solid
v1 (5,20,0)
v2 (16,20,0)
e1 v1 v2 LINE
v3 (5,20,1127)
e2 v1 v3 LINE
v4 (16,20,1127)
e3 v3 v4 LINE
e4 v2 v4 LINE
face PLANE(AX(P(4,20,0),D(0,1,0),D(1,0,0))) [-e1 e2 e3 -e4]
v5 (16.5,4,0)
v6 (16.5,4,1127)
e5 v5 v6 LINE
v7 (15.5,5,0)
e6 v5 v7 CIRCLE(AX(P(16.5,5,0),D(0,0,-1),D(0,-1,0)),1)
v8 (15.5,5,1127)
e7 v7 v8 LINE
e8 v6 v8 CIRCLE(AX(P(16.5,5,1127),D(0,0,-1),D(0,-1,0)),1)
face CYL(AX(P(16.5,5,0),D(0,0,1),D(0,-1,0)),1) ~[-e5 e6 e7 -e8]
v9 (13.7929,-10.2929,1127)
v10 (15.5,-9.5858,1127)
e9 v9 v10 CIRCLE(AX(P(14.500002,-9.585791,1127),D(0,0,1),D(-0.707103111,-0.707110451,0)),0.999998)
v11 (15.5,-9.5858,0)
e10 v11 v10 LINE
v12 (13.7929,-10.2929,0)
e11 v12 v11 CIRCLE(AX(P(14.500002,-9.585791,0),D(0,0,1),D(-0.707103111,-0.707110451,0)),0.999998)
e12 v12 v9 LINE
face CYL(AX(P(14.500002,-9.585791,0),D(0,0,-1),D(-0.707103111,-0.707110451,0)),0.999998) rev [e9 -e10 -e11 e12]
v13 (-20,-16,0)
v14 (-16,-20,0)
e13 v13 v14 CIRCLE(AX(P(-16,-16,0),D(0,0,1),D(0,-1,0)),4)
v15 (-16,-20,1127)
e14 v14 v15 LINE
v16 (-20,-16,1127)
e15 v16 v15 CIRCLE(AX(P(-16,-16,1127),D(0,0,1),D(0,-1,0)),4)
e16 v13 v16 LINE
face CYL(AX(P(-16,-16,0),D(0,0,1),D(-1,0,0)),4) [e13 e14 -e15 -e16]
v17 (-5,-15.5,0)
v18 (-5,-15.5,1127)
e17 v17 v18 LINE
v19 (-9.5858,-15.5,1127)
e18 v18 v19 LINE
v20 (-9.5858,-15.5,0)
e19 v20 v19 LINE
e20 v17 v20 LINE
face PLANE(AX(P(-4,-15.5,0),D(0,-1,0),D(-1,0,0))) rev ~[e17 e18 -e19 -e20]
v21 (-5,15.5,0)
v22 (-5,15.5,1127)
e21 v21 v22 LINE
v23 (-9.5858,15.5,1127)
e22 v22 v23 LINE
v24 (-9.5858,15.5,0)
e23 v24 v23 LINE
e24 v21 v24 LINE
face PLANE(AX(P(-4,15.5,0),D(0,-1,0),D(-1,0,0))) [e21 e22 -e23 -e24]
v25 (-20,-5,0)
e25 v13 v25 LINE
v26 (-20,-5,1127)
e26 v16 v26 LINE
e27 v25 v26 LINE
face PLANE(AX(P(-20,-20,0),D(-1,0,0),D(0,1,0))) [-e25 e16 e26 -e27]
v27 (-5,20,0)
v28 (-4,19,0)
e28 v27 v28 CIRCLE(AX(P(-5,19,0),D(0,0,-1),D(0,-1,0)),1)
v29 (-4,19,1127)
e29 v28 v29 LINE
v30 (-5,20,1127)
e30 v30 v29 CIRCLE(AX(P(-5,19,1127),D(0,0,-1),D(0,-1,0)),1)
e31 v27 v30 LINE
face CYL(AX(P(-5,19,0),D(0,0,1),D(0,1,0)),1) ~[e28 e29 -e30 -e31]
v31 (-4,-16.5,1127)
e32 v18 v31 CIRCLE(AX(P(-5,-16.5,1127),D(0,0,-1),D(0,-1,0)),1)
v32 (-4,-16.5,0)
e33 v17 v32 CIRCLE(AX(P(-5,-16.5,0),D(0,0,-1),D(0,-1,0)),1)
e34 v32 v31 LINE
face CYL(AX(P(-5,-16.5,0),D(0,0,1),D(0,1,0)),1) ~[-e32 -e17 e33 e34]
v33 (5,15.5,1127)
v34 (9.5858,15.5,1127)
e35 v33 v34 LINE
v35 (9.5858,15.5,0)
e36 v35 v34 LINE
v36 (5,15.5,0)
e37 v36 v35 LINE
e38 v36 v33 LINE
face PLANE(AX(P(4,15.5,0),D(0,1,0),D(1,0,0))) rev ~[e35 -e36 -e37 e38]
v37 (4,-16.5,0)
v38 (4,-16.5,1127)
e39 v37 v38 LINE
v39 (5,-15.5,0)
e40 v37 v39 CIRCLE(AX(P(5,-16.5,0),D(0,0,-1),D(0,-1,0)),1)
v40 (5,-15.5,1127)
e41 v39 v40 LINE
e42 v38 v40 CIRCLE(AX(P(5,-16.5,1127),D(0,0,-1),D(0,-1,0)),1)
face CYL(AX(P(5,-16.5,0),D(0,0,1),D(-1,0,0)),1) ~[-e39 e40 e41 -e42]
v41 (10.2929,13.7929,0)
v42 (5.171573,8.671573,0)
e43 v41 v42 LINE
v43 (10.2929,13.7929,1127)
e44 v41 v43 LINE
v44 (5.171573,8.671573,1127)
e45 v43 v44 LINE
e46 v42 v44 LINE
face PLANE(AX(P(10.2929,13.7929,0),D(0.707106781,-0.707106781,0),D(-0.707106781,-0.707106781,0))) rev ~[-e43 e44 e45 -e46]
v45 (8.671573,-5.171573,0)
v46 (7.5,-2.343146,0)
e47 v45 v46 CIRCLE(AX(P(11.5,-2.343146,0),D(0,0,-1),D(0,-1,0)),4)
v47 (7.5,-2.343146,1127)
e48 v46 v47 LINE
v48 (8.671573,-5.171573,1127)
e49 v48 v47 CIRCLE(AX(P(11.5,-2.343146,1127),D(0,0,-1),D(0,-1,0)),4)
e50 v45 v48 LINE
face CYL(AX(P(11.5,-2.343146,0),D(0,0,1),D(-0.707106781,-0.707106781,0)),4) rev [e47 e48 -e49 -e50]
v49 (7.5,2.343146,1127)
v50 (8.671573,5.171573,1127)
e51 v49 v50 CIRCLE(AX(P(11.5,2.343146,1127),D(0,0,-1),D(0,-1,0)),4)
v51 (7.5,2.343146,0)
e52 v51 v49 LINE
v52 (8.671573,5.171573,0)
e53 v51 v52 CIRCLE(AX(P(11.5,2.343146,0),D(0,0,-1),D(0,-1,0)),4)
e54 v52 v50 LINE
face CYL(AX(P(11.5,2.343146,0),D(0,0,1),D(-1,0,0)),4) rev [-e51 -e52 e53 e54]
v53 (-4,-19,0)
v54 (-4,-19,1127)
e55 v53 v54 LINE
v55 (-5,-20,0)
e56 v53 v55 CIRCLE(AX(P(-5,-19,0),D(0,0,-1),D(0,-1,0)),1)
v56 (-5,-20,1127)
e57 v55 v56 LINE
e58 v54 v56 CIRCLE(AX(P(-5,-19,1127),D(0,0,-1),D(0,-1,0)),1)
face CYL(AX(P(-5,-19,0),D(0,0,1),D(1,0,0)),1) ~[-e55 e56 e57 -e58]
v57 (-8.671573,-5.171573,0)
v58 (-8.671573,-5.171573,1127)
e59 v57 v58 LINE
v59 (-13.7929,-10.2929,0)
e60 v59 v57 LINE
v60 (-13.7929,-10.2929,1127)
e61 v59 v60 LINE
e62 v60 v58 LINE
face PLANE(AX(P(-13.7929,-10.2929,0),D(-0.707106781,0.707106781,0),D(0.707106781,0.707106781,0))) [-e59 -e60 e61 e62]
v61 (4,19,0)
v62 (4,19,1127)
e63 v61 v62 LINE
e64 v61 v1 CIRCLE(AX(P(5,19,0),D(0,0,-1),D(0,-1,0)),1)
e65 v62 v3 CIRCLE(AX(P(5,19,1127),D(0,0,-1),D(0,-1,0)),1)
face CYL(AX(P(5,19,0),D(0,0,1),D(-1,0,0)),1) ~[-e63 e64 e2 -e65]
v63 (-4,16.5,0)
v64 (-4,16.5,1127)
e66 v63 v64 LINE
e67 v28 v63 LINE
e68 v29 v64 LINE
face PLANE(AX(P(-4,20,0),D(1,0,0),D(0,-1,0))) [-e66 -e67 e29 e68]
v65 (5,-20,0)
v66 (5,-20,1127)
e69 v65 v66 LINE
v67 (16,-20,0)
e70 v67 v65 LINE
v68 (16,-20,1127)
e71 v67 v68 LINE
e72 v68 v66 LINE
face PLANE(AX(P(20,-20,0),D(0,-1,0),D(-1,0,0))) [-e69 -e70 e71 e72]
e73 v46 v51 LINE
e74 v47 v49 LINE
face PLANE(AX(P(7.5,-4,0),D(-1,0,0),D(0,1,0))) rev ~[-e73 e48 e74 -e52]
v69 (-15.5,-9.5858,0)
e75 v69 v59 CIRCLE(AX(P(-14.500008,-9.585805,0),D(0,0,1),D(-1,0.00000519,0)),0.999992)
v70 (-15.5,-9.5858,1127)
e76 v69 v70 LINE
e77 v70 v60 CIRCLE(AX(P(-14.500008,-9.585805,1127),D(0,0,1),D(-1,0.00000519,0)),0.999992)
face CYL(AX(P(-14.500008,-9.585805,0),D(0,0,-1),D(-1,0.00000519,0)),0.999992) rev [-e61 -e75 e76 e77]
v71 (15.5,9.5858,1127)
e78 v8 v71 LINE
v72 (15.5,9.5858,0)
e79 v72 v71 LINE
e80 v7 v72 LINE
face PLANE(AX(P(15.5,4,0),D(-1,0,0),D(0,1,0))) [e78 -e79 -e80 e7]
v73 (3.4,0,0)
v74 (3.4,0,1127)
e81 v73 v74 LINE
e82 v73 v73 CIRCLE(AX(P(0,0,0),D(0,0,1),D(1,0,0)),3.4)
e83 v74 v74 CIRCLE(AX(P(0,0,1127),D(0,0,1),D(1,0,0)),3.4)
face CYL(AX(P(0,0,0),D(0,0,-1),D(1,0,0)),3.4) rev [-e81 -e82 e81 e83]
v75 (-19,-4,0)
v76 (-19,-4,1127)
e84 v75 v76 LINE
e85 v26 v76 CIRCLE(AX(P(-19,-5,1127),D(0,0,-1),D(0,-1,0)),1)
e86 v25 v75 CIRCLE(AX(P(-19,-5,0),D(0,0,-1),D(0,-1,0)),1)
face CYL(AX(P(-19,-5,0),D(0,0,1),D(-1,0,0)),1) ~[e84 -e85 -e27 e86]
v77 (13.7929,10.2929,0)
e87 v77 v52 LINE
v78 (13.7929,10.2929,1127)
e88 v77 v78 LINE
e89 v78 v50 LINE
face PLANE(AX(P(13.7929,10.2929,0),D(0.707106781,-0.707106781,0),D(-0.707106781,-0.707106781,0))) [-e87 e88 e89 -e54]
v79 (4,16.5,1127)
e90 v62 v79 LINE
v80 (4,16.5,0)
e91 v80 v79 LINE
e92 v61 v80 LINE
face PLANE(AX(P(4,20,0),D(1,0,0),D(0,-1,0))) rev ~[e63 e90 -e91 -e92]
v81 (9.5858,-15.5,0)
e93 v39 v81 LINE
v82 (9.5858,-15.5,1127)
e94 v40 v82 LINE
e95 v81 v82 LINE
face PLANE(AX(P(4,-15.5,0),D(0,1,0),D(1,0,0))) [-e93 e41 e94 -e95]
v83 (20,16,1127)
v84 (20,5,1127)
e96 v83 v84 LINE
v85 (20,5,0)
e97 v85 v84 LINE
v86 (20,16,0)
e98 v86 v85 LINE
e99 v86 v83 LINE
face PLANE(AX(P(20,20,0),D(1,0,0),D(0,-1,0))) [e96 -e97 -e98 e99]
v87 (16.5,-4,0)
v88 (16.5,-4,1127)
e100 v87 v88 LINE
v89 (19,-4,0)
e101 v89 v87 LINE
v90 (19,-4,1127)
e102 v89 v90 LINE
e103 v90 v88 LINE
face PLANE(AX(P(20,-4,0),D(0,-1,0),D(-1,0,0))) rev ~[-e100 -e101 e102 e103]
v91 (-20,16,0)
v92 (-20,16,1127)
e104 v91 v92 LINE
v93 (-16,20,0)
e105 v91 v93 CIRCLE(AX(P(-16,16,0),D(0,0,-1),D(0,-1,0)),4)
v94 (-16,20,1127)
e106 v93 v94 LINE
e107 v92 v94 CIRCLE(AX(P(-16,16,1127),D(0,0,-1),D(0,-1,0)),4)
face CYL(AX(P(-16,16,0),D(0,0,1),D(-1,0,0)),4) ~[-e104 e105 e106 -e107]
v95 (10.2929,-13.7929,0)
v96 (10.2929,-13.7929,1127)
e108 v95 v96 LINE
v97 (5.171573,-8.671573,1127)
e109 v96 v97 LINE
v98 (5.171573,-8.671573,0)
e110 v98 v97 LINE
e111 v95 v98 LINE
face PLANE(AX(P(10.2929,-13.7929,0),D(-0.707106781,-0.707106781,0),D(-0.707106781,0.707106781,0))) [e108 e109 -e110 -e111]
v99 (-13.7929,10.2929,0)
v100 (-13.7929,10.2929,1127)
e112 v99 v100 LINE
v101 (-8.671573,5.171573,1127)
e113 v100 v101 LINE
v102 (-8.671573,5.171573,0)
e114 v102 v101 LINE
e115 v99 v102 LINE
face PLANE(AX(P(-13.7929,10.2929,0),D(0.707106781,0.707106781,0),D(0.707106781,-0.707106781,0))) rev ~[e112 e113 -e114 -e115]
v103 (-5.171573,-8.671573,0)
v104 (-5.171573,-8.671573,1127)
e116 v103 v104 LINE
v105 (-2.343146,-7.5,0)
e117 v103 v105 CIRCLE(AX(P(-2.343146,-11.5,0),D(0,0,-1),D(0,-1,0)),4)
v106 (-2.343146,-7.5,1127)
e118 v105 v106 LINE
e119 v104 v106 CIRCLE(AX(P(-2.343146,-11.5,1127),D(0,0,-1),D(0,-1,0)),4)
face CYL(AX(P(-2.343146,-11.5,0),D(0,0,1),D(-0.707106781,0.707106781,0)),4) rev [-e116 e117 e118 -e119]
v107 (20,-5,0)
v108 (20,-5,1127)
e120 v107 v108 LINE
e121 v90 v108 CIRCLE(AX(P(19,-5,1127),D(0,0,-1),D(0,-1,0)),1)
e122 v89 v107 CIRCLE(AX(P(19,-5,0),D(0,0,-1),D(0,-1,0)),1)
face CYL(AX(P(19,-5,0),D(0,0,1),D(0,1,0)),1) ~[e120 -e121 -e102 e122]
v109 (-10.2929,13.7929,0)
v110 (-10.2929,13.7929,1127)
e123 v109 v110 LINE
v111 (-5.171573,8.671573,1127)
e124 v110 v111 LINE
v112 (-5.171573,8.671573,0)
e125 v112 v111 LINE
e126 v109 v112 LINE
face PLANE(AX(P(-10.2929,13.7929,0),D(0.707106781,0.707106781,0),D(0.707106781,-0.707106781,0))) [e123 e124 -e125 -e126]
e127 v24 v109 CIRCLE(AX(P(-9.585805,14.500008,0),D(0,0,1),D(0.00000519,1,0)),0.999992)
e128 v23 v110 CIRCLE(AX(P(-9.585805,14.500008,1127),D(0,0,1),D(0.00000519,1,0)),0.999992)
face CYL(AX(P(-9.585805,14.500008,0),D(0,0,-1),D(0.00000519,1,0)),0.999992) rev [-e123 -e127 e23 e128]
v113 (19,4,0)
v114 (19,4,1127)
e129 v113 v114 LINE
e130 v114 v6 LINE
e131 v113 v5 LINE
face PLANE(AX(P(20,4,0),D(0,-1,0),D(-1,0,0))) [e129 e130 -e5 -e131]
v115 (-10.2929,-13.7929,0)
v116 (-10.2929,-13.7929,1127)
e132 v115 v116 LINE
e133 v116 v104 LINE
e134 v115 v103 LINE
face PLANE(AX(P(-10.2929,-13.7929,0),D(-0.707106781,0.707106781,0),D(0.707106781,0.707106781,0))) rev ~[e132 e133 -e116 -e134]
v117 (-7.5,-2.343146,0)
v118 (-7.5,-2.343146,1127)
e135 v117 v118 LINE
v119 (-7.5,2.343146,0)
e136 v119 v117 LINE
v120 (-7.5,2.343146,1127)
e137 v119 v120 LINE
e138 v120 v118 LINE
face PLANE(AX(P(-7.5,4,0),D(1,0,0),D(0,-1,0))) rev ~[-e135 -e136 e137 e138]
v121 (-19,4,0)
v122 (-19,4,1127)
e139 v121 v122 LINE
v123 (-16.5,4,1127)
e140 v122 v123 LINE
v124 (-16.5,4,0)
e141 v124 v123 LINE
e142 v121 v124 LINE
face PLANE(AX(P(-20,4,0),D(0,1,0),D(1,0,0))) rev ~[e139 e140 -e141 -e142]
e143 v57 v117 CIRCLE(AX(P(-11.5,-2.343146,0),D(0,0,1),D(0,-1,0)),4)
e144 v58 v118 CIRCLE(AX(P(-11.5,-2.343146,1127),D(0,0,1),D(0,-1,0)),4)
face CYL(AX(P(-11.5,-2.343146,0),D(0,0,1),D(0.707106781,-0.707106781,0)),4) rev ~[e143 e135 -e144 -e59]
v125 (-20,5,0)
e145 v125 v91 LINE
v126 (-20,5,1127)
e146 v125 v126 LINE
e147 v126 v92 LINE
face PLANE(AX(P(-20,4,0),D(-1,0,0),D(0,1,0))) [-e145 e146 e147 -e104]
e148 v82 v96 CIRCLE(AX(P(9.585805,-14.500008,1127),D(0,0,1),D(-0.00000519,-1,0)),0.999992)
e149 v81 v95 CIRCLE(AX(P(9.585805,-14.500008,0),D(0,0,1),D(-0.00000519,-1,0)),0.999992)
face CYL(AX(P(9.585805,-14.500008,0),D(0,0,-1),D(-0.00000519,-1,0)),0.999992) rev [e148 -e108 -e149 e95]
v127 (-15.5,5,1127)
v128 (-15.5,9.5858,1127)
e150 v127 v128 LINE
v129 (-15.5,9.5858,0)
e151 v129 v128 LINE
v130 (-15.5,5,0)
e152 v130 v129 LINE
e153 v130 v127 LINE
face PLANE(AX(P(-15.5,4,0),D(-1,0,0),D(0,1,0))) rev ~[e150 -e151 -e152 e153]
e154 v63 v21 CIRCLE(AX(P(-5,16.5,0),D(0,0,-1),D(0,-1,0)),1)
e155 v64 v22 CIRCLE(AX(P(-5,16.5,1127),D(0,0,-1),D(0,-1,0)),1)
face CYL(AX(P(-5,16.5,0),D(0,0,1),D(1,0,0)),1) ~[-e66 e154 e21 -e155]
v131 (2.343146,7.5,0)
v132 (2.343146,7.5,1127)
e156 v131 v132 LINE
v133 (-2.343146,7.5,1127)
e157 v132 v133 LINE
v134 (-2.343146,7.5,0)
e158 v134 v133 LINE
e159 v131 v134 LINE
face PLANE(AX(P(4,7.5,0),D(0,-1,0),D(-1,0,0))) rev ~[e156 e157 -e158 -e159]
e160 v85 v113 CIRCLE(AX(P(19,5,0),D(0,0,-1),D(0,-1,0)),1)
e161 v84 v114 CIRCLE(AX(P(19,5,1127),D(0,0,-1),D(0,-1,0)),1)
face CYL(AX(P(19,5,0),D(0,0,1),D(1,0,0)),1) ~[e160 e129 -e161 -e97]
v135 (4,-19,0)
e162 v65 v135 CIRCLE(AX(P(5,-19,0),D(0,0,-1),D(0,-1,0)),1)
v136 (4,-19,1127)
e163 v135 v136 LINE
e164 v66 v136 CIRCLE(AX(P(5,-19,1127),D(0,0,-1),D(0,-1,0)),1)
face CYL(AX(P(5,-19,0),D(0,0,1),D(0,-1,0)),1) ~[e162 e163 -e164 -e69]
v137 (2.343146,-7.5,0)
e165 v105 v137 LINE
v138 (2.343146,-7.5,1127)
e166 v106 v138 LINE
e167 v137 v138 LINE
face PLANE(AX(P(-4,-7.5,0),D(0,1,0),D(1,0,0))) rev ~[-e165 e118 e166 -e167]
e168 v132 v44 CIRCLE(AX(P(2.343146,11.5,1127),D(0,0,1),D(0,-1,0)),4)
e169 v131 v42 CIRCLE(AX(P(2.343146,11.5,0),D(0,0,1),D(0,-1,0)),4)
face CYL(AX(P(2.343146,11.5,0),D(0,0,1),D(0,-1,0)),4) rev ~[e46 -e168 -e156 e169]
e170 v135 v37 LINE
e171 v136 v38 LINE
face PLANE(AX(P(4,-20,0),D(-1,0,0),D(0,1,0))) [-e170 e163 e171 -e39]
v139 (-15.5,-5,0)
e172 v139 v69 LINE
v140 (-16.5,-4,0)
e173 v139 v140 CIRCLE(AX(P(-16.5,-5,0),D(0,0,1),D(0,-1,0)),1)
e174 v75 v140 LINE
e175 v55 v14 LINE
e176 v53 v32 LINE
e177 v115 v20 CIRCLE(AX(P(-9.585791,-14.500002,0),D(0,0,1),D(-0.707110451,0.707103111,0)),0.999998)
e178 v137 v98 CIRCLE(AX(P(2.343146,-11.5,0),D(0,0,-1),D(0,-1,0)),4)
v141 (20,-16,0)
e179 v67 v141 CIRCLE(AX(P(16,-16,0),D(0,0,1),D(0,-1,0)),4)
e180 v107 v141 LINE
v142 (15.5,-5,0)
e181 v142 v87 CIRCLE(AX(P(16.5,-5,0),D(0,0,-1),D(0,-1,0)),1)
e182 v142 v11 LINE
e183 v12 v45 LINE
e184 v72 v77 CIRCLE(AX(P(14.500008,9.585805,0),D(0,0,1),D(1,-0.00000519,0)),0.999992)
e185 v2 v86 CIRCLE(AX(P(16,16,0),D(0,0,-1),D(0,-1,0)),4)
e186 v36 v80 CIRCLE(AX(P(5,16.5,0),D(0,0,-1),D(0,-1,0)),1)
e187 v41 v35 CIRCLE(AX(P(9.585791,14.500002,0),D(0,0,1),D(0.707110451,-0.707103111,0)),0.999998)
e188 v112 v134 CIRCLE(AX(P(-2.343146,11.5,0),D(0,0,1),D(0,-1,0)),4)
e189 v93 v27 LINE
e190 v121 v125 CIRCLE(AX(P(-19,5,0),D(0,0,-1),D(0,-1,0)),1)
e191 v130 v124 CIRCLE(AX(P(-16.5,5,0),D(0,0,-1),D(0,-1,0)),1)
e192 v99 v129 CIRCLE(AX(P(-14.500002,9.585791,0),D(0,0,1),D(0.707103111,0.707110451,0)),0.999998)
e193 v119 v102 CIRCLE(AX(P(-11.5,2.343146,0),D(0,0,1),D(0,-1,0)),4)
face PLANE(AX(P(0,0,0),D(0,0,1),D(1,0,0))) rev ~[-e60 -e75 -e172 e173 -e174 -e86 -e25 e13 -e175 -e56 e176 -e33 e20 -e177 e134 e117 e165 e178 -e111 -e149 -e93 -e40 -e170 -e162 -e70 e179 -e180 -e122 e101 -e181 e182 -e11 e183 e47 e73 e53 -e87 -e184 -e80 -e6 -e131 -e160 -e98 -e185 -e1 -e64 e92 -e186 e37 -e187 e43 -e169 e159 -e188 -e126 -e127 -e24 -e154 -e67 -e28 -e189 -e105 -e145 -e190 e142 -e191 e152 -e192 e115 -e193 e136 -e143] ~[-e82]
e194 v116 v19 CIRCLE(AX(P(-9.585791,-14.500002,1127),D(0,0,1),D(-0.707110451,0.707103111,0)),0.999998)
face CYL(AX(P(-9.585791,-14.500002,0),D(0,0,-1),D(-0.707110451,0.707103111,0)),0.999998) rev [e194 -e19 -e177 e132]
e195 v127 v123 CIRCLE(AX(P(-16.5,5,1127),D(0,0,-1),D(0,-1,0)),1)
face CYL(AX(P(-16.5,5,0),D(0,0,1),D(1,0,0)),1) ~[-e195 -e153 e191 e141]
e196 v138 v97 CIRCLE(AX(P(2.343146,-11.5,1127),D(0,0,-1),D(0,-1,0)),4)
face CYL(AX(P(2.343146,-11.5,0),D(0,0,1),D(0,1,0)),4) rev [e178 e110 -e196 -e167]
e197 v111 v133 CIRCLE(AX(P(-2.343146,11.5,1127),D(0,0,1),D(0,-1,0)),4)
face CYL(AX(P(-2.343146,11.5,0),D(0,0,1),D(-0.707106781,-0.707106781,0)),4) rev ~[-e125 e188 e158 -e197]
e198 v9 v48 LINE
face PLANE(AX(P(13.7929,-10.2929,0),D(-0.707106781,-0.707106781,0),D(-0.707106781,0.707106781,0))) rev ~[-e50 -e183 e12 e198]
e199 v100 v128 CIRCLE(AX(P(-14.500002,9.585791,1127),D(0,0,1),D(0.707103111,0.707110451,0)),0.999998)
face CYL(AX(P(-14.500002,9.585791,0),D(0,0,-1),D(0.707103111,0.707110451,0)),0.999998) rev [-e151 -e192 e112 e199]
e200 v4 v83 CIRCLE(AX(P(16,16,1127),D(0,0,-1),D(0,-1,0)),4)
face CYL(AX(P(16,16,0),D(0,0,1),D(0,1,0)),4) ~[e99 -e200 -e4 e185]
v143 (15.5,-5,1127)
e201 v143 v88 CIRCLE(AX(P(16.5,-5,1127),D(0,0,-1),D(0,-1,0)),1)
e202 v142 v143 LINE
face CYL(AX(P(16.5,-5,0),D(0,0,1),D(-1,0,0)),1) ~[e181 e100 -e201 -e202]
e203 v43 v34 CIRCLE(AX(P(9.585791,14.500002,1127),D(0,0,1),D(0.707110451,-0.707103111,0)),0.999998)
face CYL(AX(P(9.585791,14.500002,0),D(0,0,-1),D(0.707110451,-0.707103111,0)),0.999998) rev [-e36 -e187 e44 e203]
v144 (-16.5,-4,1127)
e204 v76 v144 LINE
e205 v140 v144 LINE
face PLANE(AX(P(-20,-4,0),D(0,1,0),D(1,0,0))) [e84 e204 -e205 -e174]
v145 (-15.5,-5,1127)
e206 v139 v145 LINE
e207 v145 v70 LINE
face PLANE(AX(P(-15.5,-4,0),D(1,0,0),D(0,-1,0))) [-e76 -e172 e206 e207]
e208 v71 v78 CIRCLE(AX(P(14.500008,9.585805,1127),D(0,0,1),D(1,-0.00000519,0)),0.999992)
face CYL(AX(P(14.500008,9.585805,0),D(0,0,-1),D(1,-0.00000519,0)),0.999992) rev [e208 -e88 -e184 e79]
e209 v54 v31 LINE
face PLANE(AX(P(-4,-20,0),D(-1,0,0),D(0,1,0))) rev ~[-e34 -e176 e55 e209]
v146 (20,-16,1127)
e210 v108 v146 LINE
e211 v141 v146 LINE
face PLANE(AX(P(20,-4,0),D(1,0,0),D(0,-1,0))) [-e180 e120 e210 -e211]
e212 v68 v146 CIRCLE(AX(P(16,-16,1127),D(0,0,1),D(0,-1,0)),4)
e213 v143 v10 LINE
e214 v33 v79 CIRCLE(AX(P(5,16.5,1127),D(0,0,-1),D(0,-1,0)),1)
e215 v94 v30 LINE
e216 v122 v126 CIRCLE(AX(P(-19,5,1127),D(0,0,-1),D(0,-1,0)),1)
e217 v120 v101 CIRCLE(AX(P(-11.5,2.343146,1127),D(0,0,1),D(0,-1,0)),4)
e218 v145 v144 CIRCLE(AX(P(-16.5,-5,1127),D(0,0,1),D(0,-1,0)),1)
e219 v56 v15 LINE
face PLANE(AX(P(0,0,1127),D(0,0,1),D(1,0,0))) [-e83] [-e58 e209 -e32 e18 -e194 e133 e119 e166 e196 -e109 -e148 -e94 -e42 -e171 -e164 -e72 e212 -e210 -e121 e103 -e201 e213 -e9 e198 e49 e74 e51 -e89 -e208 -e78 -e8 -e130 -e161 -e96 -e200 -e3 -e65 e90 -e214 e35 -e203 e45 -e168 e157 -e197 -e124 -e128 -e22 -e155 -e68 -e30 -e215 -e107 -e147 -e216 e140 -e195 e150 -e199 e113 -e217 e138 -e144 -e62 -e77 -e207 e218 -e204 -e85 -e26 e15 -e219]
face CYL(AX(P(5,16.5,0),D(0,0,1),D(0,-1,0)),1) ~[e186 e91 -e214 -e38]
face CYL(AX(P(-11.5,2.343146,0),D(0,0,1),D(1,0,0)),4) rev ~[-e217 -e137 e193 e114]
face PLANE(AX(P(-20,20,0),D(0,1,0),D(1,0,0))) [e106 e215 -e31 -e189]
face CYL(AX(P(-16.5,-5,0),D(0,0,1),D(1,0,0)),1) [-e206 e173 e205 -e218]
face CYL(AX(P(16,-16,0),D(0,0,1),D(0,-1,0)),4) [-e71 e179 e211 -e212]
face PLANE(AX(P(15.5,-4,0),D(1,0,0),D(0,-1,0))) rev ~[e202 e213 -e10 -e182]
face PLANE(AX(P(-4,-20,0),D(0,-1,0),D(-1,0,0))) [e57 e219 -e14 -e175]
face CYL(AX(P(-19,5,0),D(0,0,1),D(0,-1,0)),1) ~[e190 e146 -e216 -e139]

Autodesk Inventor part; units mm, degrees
ref_plane "YZ Plane" through (0, 0, 0) normal (1, 0, 0) x (0, 1, 0)
ref_plane "XZ Plane" through (0, 0, 0) normal (0, 1, 0) x (-1, 0, 0)
ref_plane "XY Plane" through (0, 0, 0) normal (0, 0, 1) x (1, 0, 0)
sketch "T-Slot 4040 Base" plane through (0, 0, 0) normal (0, 0, 1) x (1, 0, 0)
  line L0 (-28, 0) -> (28, 0) construction
  line L1 (0, -28) -> (0, 28) construction
  circle A0 centre (0, 0) radius 3.4
  line L2 (-7.5, -7.5) -> (7.5, -7.5)
  line L3 (7.5, -7.5) -> (7.5, 7.5)
  line L4 (7.5, 7.5) -> (-7.5, 7.5)
  line L5 (-7.5, 7.5) -> (-7.5, -7.5)
  line L6 (-7.5, -7.5) -> (7.5, 7.5) construction
  line L7 (7.5, -7.5) -> (-7.5, 7.5) construction
  line L8 (20, 4) -> (15.5, 4)
  line L9 (15.5, 4) -> (15.5, 12)
  line L10 (15.5, 12) -> (7.5, 4)
  line L11 (4, 20) -> (4, 15.5)
  line L12 (4, 15.5) -> (12, 15.5)
  line L13 (12, 15.5) -> (4, 7.5)
  line L14 (7.5, -7.5) -> (-7.5, -7.5)
  arc A1 (15.5, 9.5858) -> (13.7929, 10.2929) centre (14.5, 9.5858) ccw
  arc A2 (10.2929, 13.7929) -> (9.5858, 15.5) centre (9.5858, 14.5) ccw
  line L15 (-20, 20) -> (20, 20)
  line L16 (20, 20) -> (20, -20)
  line L17 (20, -20) -> (-20, -20)
  line L18 (-20, -20) -> (-20, 20)
  line L19 (-20, 20) -> (20, -20) construction
  line L20 (20, 20) -> (-20, -20) construction
  line L21 (-4, 15.5) -> (-12, 15.5)
  arc A3 (-9.5858, 15.5) -> (-10.2929, 13.7929) centre (-9.5858, 14.5) ccw
  line L22 (-12, 15.5) -> (-4, 7.5)
  line L23 (-15.5, 12) -> (-7.5, 4)
  line L24 (-20, 4) -> (-15.5, 4)
  arc A4 (-13.7929, 10.2929) -> (-15.5, 9.5858) centre (-14.5, 9.5858) ccw
  line L25 (-15.5, 4) -> (-15.5, 12)
  line L26 (-4, 20) -> (-4, 15.5)
  line L27 (-15.5, -4) -> (-15.5, -12)
  arc A5 (-15.5, -9.5858) -> (-13.7929, -10.2929) centre (-14.5, -9.5858) ccw
  line L28 (-15.5, -12) -> (-7.5, -4)
  line L29 (-12, -15.5) -> (-4, -7.5)
  line L30 (-4, -20) -> (-4, -15.5)
  arc A6 (-10.2929, -13.7929) -> (-9.5858, -15.5) centre (-9.5858, -14.5) ccw
  line L31 (-4, -15.5) -> (-12, -15.5)
  line L32 (-20, -4) -> (-15.5, -4)
  line L33 (4, -15.5) -> (12, -15.5)
  arc A7 (9.5858, -15.5) -> (10.2929, -13.7929) centre (9.5858, -14.5) ccw
  line L34 (12, -15.5) -> (4, -7.5)
  line L35 (15.5, -12) -> (7.5, -4)
  line L36 (20, -4) -> (15.5, -4)
  arc A8 (13.7929, -10.2929) -> (15.5, -9.5858) centre (14.5, -9.5858) ccw
  line L37 (15.5, -4) -> (15.5, -12)
  line L38 (4, -20) -> (4, -15.5)
  point P0 (4.9274, 7.75)
  point P1 (9.5858, 15.5)
  point P2 (-20, 20)
  point P3 (-7.5, -7.5)
  point P4 (-20, -20)
  point P5 (7.5, -7.5)
  point P6 (20, -20)
  point P7 (-9.5858, -15.5)
  point P8 (-4, -7.5)
  point P9 (15.5, -9.5858)
  point P10 (7.5, -4)
  point P11 (-15.5, 9.5858)
  point P12 (-4, 7.5)
  dimension "d35" = 6.8
  dimension "d37" = 12
  dimension "d38" = 1
  dimension "d43" = 40
  dimension "d44" = 40
  dimension "d45" = 4.5
  dimension "d46" = 4
  dimension "d53" = 360
extrude "Extrusion1" add sketch "T-Slot 4040 Base" along normal blind 1127 contours L5 L4 L3 L2 | L2 L29 L31 L30 L17 L18 L32 L27 L28 L5 | L2 L3 L35 L37 L36 L16 L17 L38 L33 L34 | A6 L31 L29 | L23 L25 L24 L18 L15 L26 L21 L22 L4 L5 | L28 L27 A5 | L34 L33 A7 | A4 L25 L23 | L3 L4 L13 L12 L11 L15 L16 L8 L9 L10 | A8 L37 L35 | L22 L21 A3 | L10 L9 A1 | A2 L12 L13
fillet "Rundung1" radius 1 16 edges at (4, 15.5, 563.5) (15.5, 4, 563.5) (20, 4, 563.5) (4, 20, 563.5) (-20, 4, 563.5) (-15.5, 4, 563.5) (-4, 15.5, 563.5) (-4, 20, 563.5) (-4, -15.5, 563.5) (-4, -20, 563.5) (4, -15.5, 563.5) (4, -20, 563.5) (15.5, -4, 563.5) (20, -4, 563.5) (-20, -4, 563.5) (-15.5, -4, 563.5)
fillet "Rundung2" radius 4 12 edges at (4, 7.5, 563.5) (7.5, 4, 563.5) (-20, 20, 563.5) (-20, -20, 563.5) (20, 20, 563.5) (20, -20, 563.5) (7.5, -4, 563.5) (-7.5, -4, 563.5) (-7.5, 4, 563.5) (4, -7.5, 563.5) (-4, -7.5, 563.5) (-4, 7.5, 563.5)
properties part number "T-SLOT 4040 B-Type 1127mm"
